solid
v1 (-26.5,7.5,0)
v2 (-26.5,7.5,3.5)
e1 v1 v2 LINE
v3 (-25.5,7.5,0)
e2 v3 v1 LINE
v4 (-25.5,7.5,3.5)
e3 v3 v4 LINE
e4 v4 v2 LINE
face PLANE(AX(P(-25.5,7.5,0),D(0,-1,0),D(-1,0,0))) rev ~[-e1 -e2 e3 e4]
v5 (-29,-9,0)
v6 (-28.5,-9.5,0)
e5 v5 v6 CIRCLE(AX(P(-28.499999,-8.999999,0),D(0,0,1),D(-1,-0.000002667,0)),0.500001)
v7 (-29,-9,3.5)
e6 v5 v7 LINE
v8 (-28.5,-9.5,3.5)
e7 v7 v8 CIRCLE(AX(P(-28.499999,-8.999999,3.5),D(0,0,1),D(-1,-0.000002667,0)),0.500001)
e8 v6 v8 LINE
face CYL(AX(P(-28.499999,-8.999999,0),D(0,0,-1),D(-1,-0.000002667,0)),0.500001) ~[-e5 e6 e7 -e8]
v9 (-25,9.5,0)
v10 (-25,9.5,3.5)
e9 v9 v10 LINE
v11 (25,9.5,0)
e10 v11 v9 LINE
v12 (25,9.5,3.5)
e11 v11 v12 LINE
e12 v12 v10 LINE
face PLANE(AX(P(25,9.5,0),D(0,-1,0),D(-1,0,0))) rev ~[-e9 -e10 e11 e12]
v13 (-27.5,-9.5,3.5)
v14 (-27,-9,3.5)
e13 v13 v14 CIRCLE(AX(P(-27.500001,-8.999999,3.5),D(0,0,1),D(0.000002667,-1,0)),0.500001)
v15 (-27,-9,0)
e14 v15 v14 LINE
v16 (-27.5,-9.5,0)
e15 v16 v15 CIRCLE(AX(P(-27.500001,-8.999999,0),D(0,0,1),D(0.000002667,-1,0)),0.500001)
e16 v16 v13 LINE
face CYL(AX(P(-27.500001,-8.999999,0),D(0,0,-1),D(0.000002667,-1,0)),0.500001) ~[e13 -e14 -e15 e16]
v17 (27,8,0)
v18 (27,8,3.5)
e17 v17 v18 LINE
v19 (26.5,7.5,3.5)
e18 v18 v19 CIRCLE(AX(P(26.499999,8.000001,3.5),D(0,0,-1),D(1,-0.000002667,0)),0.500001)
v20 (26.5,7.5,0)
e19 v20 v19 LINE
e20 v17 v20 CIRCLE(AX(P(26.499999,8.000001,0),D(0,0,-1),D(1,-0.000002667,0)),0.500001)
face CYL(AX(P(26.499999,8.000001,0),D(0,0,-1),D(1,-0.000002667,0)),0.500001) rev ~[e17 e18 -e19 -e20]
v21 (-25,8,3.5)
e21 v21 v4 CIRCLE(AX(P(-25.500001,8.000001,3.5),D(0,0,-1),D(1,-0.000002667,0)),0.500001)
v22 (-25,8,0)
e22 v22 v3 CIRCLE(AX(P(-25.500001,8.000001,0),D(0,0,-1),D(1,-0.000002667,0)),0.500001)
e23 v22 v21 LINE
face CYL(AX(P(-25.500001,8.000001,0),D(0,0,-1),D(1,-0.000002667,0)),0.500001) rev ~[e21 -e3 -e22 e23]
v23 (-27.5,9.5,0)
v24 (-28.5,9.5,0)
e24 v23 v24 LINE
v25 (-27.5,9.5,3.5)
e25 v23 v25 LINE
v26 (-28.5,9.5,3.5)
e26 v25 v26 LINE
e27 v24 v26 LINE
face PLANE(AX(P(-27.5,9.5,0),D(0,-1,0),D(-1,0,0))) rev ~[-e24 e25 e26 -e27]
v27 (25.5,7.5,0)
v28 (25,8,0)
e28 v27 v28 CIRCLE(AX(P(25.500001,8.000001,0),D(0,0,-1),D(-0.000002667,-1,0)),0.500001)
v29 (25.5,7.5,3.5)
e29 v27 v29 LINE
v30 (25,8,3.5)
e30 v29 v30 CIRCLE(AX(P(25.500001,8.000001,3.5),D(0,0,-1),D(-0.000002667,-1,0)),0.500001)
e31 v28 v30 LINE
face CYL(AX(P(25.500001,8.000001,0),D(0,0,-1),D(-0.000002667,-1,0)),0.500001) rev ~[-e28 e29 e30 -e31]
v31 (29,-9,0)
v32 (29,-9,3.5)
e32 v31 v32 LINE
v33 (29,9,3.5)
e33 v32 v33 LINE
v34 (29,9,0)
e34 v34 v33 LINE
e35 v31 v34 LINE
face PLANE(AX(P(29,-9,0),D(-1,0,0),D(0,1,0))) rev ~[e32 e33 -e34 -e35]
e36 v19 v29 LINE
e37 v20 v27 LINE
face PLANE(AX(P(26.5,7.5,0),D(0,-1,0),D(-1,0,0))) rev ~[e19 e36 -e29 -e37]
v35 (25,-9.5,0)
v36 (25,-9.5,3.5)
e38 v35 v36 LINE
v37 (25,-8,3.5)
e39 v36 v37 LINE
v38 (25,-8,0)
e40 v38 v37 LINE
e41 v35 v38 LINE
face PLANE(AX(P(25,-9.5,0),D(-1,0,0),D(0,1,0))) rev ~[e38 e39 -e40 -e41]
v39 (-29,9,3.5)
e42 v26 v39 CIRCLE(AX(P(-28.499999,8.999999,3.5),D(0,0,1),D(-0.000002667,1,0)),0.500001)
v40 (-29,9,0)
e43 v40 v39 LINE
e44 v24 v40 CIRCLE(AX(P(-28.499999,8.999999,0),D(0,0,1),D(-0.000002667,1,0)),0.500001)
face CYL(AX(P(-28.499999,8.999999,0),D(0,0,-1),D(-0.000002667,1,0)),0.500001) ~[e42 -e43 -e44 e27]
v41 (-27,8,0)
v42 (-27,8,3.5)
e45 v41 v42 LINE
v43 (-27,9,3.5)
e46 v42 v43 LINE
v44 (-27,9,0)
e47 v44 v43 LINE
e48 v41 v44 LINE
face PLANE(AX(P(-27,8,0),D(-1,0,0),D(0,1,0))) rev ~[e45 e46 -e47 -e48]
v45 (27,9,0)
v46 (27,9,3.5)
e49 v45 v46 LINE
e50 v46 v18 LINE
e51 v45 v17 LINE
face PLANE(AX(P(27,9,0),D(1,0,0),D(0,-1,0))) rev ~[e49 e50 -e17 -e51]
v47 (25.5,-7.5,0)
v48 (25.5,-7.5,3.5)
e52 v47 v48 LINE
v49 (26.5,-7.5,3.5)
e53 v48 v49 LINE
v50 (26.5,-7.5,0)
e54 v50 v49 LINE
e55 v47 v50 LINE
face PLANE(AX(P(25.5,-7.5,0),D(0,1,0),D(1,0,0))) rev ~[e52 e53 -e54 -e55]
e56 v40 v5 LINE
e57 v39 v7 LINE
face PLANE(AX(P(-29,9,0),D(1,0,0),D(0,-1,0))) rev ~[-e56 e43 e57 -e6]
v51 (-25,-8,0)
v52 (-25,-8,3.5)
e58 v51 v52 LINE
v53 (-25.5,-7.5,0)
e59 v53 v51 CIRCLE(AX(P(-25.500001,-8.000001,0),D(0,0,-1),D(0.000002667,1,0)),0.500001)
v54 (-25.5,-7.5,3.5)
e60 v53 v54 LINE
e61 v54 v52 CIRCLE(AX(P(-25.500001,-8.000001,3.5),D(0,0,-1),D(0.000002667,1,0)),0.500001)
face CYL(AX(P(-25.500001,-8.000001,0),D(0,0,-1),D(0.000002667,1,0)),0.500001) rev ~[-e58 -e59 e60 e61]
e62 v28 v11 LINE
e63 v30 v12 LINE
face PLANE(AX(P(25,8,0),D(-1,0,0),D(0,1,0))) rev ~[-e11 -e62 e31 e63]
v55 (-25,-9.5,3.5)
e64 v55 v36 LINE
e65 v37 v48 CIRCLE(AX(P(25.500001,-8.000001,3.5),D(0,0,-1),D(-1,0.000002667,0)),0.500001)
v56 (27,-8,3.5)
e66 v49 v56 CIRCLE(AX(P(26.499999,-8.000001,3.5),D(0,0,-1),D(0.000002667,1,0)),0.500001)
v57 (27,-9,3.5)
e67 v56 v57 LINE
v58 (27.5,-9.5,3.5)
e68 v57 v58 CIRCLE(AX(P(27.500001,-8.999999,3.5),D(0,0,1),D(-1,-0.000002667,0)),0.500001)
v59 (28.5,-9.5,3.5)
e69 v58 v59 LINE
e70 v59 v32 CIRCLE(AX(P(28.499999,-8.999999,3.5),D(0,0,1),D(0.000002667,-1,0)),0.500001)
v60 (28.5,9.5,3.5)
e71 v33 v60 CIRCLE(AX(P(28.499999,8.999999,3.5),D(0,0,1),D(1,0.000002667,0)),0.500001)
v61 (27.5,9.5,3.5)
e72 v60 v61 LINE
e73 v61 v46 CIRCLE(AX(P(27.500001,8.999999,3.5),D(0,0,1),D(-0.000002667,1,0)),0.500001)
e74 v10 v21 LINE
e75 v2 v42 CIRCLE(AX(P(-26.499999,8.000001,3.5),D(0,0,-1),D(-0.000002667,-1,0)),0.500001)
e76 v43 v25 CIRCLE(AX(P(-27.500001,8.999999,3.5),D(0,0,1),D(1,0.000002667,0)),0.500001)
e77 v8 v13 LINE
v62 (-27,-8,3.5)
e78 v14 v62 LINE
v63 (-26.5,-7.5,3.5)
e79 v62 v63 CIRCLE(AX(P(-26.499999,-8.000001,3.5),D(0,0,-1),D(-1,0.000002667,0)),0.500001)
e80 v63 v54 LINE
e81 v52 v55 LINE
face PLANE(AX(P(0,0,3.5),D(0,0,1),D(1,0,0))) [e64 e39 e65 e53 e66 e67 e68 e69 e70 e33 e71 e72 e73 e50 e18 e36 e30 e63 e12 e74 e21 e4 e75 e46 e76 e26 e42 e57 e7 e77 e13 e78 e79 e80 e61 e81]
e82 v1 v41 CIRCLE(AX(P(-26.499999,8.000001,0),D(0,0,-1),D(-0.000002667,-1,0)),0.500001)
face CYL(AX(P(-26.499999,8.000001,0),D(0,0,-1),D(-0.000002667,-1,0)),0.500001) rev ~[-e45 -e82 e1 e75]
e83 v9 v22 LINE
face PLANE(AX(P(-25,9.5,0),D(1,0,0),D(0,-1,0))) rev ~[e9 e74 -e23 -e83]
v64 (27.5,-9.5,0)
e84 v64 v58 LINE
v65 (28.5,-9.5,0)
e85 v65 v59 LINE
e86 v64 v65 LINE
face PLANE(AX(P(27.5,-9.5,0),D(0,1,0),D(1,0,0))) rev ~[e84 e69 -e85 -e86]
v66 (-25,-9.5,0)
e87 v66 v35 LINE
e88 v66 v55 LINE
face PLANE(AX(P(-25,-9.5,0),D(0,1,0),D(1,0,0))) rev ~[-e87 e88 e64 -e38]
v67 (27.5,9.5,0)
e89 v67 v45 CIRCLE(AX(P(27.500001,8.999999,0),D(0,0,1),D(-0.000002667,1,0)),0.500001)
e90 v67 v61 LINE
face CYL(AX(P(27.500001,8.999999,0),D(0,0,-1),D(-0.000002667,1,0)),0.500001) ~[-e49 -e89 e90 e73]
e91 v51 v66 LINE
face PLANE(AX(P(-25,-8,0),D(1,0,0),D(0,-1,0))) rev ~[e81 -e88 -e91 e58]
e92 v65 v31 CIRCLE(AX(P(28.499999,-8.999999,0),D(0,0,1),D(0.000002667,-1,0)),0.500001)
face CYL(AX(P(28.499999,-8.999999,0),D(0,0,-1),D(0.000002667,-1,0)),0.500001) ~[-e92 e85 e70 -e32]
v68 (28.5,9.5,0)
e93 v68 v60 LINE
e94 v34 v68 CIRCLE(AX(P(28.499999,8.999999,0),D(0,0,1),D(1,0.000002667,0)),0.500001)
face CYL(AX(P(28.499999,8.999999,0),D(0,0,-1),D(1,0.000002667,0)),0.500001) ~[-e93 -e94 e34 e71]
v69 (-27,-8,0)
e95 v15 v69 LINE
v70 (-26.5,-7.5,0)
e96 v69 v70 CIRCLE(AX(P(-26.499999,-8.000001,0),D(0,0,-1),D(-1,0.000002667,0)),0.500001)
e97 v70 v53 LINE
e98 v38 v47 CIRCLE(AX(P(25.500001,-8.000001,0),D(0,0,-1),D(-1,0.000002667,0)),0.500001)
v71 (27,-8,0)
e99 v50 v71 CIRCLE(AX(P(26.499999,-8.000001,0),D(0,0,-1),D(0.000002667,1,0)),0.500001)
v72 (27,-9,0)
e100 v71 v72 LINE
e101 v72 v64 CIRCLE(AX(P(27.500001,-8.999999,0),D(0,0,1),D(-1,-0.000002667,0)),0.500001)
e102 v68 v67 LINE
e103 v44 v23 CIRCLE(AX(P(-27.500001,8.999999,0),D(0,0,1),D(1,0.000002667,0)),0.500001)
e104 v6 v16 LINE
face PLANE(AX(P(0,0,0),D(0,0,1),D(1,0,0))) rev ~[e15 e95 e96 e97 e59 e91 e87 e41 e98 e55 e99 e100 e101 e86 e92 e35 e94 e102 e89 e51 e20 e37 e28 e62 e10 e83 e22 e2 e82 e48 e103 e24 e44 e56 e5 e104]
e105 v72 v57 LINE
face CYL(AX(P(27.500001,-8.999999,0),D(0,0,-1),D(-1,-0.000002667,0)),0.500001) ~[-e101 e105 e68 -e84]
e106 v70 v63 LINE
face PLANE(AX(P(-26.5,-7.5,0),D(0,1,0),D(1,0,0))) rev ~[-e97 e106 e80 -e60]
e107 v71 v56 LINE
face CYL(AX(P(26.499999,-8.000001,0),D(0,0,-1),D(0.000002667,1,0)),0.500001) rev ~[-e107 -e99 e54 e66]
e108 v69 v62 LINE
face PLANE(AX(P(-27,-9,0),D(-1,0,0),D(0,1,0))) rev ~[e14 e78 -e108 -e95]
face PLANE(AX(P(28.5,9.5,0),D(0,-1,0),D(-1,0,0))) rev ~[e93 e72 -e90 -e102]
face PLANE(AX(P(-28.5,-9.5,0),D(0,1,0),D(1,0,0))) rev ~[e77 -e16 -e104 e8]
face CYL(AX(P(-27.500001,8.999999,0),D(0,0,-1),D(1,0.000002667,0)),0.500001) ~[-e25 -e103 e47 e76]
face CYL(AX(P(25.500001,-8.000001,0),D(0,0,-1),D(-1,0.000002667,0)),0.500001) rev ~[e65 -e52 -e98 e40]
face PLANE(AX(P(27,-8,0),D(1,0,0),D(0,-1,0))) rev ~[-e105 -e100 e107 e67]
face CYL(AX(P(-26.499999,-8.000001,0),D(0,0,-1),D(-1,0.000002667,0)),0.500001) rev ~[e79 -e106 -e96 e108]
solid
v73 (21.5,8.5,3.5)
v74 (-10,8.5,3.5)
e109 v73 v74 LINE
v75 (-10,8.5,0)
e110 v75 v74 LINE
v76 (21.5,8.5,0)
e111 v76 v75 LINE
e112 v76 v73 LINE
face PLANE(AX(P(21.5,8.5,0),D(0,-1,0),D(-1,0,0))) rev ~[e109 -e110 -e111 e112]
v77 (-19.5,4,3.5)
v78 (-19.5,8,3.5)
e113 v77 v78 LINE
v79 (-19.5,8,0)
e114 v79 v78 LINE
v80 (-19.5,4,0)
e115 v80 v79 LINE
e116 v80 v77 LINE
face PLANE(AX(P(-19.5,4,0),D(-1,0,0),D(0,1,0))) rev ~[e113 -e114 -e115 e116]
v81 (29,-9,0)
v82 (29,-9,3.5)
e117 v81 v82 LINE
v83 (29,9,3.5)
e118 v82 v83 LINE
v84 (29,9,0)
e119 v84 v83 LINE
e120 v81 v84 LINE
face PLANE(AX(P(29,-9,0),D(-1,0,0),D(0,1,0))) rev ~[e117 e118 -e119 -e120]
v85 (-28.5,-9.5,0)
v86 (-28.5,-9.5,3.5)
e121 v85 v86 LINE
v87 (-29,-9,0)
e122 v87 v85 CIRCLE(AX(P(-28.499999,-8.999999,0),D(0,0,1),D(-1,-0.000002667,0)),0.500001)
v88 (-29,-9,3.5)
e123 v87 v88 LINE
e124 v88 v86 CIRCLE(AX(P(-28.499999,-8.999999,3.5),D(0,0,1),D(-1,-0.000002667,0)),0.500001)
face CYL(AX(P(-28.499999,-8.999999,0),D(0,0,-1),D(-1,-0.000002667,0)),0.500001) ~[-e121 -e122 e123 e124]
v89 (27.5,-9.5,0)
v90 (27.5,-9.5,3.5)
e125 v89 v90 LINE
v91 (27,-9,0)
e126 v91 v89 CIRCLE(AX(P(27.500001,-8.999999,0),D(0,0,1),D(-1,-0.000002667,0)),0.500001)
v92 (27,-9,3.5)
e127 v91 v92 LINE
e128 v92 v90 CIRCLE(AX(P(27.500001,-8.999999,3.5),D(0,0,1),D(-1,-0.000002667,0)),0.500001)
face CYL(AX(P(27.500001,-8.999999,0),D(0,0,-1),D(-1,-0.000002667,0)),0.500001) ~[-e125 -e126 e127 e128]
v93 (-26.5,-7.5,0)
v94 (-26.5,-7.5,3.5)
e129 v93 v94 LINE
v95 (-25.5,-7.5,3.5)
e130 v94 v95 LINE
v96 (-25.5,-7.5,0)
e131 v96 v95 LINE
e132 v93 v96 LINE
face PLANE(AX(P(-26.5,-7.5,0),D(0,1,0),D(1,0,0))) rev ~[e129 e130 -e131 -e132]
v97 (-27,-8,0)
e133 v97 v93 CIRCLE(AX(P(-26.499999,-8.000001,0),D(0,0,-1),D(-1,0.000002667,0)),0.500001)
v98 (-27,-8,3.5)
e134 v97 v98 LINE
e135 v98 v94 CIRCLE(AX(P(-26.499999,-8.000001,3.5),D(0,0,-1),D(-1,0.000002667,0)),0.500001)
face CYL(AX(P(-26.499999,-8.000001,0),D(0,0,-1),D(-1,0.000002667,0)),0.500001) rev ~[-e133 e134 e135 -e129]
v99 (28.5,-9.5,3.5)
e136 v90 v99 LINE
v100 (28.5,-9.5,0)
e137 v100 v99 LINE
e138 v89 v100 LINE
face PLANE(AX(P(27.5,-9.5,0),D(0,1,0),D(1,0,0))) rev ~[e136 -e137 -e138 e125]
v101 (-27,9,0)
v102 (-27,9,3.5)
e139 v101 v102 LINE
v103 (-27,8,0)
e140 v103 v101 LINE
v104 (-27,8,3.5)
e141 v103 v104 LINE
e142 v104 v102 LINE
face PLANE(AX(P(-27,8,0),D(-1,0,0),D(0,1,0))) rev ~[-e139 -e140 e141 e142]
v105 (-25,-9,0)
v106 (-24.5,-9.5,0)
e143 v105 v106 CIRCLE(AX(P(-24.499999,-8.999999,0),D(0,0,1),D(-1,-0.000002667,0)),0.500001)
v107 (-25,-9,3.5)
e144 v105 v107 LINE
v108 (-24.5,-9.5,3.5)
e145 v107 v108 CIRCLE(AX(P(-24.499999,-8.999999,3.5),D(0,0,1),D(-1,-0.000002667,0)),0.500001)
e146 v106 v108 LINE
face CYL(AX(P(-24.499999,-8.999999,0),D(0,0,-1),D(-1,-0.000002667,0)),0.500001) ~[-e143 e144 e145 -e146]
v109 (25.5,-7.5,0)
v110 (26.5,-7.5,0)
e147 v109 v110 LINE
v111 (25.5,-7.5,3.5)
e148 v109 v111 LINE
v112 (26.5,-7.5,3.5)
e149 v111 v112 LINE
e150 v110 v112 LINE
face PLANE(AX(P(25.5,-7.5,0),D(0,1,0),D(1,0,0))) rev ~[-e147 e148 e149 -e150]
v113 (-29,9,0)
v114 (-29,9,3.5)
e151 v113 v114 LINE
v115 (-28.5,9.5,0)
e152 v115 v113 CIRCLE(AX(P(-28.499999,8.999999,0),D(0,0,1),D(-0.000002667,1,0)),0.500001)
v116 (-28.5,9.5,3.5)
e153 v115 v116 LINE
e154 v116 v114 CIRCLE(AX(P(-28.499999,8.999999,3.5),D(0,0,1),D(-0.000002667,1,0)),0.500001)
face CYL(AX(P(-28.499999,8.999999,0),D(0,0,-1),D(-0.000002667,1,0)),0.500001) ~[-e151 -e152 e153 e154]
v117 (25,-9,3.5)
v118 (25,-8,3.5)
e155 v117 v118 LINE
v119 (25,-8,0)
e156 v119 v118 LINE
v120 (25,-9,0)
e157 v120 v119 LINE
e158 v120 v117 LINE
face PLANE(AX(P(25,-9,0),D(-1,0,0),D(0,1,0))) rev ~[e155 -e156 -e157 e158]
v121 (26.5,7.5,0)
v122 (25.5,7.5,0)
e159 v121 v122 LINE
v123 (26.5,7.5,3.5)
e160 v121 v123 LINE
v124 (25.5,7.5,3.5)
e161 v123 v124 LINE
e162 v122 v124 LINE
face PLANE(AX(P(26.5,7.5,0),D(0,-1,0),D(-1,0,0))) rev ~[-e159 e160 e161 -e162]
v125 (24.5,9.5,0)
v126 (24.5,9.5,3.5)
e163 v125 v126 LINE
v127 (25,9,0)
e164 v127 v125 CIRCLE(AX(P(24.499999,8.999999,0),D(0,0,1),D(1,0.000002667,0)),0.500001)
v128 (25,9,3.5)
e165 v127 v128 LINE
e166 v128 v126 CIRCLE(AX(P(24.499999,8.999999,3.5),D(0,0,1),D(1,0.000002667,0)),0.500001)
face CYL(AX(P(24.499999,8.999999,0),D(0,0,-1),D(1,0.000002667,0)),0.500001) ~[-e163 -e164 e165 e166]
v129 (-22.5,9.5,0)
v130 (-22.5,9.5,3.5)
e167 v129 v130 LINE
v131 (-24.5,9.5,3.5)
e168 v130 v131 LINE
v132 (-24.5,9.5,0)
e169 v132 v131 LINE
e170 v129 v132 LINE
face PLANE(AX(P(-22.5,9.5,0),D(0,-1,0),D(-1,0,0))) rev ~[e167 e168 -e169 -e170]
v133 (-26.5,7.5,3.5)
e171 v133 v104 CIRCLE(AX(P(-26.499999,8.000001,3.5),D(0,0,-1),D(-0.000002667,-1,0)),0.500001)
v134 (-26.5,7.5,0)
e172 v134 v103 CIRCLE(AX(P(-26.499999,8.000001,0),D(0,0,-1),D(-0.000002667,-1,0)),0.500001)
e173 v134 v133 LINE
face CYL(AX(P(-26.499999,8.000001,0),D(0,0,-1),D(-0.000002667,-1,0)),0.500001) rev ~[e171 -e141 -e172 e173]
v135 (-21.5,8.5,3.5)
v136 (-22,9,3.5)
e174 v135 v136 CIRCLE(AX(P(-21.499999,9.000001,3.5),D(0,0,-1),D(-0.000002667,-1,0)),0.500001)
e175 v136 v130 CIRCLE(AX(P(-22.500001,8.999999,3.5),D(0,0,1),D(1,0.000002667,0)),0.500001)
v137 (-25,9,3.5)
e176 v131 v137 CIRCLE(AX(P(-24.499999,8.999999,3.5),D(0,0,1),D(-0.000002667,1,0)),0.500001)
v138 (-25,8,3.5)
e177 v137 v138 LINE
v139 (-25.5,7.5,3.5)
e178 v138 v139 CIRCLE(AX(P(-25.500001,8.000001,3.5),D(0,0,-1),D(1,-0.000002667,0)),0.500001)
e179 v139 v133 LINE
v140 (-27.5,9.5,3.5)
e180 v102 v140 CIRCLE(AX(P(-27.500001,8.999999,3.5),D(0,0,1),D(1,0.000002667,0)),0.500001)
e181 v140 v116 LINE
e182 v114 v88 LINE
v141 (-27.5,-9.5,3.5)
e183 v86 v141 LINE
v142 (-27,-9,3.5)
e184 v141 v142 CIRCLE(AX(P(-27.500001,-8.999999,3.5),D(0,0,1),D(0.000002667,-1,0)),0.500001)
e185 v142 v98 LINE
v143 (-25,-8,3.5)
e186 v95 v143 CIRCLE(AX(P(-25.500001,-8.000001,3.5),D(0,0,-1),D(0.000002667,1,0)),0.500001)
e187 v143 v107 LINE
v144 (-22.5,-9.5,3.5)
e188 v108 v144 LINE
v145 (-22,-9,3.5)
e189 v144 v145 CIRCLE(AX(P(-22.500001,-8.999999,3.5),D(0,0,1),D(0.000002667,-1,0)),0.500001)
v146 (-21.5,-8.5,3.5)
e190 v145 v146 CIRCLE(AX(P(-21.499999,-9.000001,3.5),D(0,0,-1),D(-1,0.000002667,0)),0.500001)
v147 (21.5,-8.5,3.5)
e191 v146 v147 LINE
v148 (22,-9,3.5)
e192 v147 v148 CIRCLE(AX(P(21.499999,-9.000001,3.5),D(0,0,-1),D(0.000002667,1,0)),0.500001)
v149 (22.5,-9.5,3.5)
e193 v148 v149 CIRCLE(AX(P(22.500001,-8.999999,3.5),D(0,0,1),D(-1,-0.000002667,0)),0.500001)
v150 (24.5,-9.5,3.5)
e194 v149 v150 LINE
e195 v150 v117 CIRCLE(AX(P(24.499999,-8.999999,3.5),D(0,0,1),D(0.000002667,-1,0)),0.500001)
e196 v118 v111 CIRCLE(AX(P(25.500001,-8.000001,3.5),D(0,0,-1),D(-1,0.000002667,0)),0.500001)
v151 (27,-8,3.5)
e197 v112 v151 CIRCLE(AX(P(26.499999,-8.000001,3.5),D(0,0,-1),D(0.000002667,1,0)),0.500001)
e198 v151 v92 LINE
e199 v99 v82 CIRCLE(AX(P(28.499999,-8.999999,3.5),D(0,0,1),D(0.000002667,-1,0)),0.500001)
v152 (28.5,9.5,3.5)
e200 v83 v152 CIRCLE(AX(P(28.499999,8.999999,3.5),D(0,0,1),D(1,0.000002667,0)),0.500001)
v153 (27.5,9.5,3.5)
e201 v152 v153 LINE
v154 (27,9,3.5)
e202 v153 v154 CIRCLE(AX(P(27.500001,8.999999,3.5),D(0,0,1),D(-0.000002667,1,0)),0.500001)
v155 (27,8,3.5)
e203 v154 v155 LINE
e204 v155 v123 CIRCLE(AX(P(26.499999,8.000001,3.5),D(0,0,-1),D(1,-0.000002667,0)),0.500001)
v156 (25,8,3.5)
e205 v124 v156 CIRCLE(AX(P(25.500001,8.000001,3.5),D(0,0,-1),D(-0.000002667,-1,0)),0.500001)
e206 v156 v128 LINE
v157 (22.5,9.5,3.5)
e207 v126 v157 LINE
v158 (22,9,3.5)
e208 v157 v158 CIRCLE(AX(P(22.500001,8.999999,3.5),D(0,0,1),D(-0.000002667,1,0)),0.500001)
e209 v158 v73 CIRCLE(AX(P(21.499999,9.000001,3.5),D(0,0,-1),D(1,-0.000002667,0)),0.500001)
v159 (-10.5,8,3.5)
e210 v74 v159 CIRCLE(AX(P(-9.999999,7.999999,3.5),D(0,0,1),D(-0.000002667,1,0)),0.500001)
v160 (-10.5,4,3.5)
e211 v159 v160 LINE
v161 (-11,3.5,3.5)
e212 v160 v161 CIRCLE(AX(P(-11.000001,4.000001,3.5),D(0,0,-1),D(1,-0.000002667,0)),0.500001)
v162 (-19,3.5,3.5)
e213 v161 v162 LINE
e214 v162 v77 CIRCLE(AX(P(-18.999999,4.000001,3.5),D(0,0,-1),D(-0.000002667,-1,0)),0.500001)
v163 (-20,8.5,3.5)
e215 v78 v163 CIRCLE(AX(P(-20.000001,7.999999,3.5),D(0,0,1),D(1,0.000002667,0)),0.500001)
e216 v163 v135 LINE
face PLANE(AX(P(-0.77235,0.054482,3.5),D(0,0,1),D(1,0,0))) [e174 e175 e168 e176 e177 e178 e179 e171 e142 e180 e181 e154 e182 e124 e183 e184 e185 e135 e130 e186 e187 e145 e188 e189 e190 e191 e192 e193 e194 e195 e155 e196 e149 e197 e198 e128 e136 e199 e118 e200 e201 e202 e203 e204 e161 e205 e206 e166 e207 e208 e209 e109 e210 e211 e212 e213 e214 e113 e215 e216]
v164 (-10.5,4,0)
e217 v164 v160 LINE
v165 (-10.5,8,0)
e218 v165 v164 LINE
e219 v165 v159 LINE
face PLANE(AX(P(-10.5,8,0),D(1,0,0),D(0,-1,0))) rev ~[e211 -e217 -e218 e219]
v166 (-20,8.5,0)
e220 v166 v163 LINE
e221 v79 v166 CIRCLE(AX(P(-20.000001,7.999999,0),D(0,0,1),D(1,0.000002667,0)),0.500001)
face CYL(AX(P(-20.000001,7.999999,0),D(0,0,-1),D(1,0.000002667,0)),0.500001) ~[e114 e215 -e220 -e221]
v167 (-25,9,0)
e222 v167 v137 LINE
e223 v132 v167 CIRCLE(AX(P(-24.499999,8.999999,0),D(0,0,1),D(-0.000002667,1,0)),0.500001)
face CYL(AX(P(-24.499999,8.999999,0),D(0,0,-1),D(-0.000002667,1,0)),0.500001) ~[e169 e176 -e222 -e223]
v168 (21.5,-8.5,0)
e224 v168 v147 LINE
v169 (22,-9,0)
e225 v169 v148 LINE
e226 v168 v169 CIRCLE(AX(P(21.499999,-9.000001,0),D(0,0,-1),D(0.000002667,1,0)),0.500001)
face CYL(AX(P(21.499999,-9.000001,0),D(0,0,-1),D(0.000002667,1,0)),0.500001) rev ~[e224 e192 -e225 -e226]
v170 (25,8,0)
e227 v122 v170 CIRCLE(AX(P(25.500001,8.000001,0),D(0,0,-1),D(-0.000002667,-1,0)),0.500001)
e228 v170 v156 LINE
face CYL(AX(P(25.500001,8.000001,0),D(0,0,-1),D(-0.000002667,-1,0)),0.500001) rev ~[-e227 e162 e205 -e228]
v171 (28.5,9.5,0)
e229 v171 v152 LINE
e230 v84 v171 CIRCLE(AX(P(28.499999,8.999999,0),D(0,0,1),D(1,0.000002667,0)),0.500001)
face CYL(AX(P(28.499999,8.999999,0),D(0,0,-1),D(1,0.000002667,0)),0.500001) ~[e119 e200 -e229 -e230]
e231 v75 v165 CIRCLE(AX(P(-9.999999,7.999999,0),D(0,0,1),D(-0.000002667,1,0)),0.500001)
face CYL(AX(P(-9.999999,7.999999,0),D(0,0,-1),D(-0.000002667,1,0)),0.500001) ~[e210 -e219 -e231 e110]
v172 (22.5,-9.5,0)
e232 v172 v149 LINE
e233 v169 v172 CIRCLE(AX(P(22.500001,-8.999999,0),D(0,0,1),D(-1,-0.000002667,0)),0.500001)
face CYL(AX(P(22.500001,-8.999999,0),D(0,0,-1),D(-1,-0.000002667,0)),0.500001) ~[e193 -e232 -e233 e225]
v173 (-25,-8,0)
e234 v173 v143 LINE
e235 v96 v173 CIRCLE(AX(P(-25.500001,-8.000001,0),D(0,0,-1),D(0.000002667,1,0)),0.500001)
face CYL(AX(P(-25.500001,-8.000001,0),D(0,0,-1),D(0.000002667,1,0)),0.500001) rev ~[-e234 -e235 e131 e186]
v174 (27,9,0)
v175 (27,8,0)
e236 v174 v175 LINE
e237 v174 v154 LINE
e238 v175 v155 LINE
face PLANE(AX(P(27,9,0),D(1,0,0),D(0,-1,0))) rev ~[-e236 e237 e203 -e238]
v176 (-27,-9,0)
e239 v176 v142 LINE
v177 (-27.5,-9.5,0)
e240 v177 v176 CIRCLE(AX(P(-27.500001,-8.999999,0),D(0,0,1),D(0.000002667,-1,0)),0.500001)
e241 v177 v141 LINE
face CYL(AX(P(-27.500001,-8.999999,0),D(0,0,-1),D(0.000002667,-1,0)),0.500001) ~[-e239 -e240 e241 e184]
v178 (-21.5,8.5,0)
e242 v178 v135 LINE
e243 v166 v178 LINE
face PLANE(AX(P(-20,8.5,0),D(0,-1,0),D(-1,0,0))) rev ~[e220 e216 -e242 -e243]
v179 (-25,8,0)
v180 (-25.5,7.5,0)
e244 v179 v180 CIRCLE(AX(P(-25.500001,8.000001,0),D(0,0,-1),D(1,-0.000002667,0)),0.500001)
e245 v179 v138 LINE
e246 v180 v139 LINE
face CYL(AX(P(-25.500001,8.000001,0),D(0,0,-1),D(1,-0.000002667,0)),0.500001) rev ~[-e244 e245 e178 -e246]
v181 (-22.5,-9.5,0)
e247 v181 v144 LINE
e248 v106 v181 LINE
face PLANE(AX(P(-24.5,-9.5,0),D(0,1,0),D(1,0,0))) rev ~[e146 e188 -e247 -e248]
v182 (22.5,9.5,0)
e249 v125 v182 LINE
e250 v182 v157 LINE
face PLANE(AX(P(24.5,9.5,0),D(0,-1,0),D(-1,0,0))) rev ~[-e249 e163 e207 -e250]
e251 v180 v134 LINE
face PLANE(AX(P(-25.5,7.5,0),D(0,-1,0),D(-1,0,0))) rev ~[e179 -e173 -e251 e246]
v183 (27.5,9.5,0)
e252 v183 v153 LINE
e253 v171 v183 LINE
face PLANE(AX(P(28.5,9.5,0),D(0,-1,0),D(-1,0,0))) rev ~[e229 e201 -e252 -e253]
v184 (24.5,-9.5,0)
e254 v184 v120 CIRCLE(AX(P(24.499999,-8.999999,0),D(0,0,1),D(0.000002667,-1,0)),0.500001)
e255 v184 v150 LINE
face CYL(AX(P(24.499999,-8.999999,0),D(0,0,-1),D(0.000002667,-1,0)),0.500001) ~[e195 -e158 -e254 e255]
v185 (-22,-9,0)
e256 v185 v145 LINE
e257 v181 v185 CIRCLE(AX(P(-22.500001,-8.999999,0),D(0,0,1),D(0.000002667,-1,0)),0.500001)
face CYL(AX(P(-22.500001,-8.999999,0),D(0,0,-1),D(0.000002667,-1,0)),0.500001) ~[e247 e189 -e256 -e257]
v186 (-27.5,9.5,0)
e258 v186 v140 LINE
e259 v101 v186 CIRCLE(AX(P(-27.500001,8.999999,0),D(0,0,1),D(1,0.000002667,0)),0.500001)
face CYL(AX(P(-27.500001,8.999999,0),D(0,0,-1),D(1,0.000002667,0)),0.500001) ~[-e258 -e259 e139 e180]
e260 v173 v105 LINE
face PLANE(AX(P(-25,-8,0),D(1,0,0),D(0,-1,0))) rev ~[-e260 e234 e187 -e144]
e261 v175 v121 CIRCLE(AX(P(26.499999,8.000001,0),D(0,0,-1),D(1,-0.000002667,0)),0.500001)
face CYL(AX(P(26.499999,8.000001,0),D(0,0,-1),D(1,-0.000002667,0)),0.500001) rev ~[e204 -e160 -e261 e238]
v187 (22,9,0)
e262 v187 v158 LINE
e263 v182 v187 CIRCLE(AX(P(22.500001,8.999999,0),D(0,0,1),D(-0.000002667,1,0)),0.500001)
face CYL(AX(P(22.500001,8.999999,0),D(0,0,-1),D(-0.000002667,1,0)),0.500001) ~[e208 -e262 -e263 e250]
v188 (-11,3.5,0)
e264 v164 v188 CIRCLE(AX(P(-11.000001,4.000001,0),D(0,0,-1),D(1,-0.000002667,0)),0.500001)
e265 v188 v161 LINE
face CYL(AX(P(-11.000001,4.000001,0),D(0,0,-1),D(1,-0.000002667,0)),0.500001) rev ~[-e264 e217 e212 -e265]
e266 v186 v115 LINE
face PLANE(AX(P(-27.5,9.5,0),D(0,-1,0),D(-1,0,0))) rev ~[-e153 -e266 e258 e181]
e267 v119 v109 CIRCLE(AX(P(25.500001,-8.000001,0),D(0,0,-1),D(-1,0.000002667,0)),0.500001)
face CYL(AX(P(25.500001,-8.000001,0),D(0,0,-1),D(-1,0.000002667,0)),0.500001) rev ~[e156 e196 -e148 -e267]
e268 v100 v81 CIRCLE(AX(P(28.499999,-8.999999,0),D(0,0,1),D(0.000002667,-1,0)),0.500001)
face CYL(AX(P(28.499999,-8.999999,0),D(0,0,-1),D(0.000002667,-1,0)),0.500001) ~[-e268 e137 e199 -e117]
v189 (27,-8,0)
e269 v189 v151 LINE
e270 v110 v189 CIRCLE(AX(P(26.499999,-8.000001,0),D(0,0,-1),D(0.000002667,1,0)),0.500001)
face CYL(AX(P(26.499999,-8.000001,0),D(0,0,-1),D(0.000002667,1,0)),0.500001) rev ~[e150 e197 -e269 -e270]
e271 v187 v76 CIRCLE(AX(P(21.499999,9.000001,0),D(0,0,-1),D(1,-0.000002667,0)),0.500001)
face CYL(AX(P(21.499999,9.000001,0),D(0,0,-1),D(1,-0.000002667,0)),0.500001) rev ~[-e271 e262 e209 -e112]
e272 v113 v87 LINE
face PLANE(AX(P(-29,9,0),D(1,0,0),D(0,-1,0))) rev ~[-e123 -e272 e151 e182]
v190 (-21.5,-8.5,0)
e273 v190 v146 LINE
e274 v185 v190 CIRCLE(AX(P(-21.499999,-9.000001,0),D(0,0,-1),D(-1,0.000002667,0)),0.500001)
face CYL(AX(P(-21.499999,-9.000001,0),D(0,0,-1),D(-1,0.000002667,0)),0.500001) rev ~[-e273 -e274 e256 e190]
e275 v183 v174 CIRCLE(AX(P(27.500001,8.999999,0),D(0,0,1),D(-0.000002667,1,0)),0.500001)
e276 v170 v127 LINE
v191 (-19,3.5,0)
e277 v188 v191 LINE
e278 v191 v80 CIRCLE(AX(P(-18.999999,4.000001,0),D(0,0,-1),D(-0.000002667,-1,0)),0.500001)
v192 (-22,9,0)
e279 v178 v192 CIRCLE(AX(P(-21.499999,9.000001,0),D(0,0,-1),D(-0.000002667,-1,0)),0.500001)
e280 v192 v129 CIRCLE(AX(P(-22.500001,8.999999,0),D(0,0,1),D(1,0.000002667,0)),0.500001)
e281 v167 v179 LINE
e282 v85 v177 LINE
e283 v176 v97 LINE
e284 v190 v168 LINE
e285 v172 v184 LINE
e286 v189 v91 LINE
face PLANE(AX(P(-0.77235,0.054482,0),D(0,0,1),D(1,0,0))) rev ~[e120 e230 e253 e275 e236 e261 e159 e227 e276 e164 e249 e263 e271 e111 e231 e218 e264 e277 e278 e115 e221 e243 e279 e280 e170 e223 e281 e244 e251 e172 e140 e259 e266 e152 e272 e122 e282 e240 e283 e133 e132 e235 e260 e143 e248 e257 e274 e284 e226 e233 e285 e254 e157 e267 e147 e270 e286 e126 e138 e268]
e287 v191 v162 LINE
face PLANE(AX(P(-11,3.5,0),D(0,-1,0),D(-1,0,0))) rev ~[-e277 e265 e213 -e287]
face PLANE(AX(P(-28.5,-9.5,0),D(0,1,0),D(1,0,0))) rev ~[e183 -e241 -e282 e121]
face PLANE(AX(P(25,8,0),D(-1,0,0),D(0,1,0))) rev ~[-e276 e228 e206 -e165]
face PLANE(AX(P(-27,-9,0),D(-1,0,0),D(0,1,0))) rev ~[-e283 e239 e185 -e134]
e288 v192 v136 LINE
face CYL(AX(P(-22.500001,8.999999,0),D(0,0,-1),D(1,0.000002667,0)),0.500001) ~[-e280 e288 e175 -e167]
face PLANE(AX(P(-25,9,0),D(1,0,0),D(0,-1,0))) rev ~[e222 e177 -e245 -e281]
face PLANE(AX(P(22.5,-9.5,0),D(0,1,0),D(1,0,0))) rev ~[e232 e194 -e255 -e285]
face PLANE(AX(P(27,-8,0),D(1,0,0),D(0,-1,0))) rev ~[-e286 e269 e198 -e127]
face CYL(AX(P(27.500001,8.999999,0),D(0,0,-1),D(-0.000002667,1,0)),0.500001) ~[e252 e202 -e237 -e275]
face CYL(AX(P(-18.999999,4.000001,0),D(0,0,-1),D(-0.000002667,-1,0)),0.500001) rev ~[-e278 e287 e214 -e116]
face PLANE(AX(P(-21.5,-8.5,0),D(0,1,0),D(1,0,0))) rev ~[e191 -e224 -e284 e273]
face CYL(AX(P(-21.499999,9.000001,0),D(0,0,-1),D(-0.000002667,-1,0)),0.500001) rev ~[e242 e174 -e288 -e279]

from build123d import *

# Parameters (mm, degrees)
F2_DEPTH = 3.5
F3_DEPTH = 3.5


with BuildPart() as f2:
    # F1 (on Top) → F2 (new body)
    with BuildSketch(Plane.XY):
        with BuildLine():
            Line((-22.5, 9.5), (-24.5, 9.5))
            ThreePointArc((-24.5, 9.5), (-24.853553, 9.353553), (-25, 9))
            Line((-25, 9), (-25, 8))
            ThreePointArc((-25, 8), (-25.146447, 7.646447), (-25.5, 7.5))
            Line((-25.5, 7.5), (-26.5, 7.5))
            ThreePointArc((-26.5, 7.5), (-26.853553, 7.646447), (-27, 8))
            Line((-27, 8), (-27, 9))
            ThreePointArc((-27, 9), (-27.146447, 9.353553), (-27.5, 9.5))
            Line((-27.5, 9.5), (-28.5, 9.5))
            ThreePointArc((-28.5, 9.5), (-28.853553, 9.353553), (-29, 9))
            Line((-29, 9), (-29, 0))
            Line((-29, 0), (-29, -9))
            ThreePointArc((-29, -9), (-28.853553, -9.353553), (-28.5, -9.5))
            Line((-28.5, -9.5), (-27.5, -9.5))
            ThreePointArc((-27.5, -9.5), (-27.146447, -9.353553), (-27, -9))
            Line((-27, -9), (-27, -8))
            ThreePointArc((-27, -8), (-26.853553, -7.646447), (-26.5, -7.5))
            Line((-26.5, -7.5), (-25.5, -7.5))
            ThreePointArc((-25.5, -7.5), (-25.146447, -7.646447), (-25, -8))
            Line((-25, -8), (-25, -9))
            ThreePointArc((-25, -9), (-24.853553, -9.353553), (-24.5, -9.5))
            Line((-24.5, -9.5), (-22.5, -9.5))
            ThreePointArc((-22.5, -9.5), (-22.146447, -9.353553), (-22, -9))
            ThreePointArc((-22, -9), (-21.853553, -8.646447), (-21.5, -8.5))
            Line((-21.5, -8.5), (0, -8.5))
            Line((0, -8.5), (21.5, -8.5))
            ThreePointArc((21.5, -8.5), (21.853553, -8.646447), (22, -9))
            ThreePointArc((22, -9), (22.146447, -9.353553), (22.5, -9.5))
            Line((22.5, -9.5), (24.5, -9.5))
            ThreePointArc((24.5, -9.5), (24.853553, -9.353553), (25, -9))
            Line((25, -9), (25, -8))
            ThreePointArc((25, -8), (25.146447, -7.646447), (25.5, -7.5))
            Line((25.5, -7.5), (26.5, -7.5))
            ThreePointArc((26.5, -7.5), (26.853553, -7.646447), (27, -8))
            Line((27, -8), (27, -9))
            ThreePointArc((27, -9), (27.146447, -9.353553), (27.5, -9.5))
            Line((27.5, -9.5), (28.5, -9.5))
            ThreePointArc((28.5, -9.5), (28.853553, -9.353553), (29, -9))
            Line((29, -9), (29, 0))
            Line((29, 0), (29, 9))
            ThreePointArc((29, 9), (28.853553, 9.353553), (28.5, 9.5))
            Line((28.5, 9.5), (27.5, 9.5))
            ThreePointArc((27.5, 9.5), (27.146447, 9.353553), (27, 9))
            Line((27, 9), (27, 8))
            ThreePointArc((27, 8), (26.853553, 7.646447), (26.5, 7.5))
            Line((26.5, 7.5), (25.5, 7.5))
            ThreePointArc((25.5, 7.5), (25.146447, 7.646447), (25, 8))
            Line((25, 8), (25, 9))
            ThreePointArc((25, 9), (24.853553, 9.353553), (24.5, 9.5))
            Line((24.5, 9.5), (22.5, 9.5))
            ThreePointArc((22.5, 9.5), (22.146447, 9.353553), (22, 9))
            ThreePointArc((22, 9), (21.853553, 8.646447), (21.5, 8.5))
            Line((21.5, 8.5), (0, 8.5))
            Line((0, 8.5), (-10, 8.5))
            ThreePointArc((-10, 8.5), (-10.353553, 8.353553), (-10.5, 8))
            Line((-10.5, 8), (-10.5, 4))
            ThreePointArc((-10.5, 4), (-10.646447, 3.646447), (-11, 3.5))
            Line((-11, 3.5), (-19, 3.5))
            ThreePointArc((-19, 3.5), (-19.353553, 3.646447), (-19.5, 4))
            Line((-19.5, 4), (-19.5, 8))
            ThreePointArc((-19.5, 8), (-19.646447, 8.353553), (-20, 8.5))
            Line((-20, 8.5), (-21.5, 8.5))
            ThreePointArc((-21.5, 8.5), (-21.853553, 8.646447), (-22, 9))
            ThreePointArc((-22, 9), (-22.146447, 9.353553), (-22.5, 9.5))
        make_face()
    extrude(amount=F2_DEPTH)


with BuildPart() as f3:
    # F0 (on Top) → F3 (new body)
    with BuildSketch(Plane.XY):
        with BuildLine():
            Line((-27.5, 9.5), (-28.5, 9.5))
            ThreePointArc((-28.5, 9.5), (-28.853553, 9.353553), (-29, 9))
            Line((-29, 9), (-29, 0))
            Line((-29, 0), (-29, -9))
            ThreePointArc((-29, -9), (-28.853553, -9.353553), (-28.5, -9.5))
            Line((-28.5, -9.5), (-27.5, -9.5))
            ThreePointArc((-27.5, -9.5), (-27.146447, -9.353553), (-27, -9))
            Line((-27, -9), (-27, -8))
            ThreePointArc((-27, -8), (-26.853553, -7.646447), (-26.5, -7.5))
            Line((-26.5, -7.5), (-25.5, -7.5))
            ThreePointArc((-25.5, -7.5), (-25.146447, -7.646447), (-25, -8))
            Line((-25, -8), (-25, -9.5))
            Line((-25, -9.5), (0, -9.5))
            Line((0, -9.5), (25, -9.5))
            Line((25, -9.5), (25, -8))
            ThreePointArc((25, -8), (25.146447, -7.646447), (25.5, -7.5))
            Line((25.5, -7.5), (26.5, -7.5))
            ThreePointArc((26.5, -7.5), (26.853553, -7.646447), (27, -8))
            Line((27, -8), (27, -9))
            ThreePointArc((27, -9), (27.146447, -9.353553), (27.5, -9.5))
            Line((27.5, -9.5), (28.5, -9.5))
            ThreePointArc((28.5, -9.5), (28.853553, -9.353553), (29, -9))
            Line((29, -9), (29, 0))
            Line((29, 0), (29, 9))
            ThreePointArc((29, 9), (28.853553, 9.353553), (28.5, 9.5))
            Line((28.5, 9.5), (27.5, 9.5))
            ThreePointArc((27.5, 9.5), (27.146447, 9.353553), (27, 9))
            Line((27, 9), (27, 8))
            ThreePointArc((27, 8), (26.853553, 7.646447), (26.5, 7.5))
            Line((26.5, 7.5), (25.5, 7.5))
            ThreePointArc((25.5, 7.5), (25.146447, 7.646447), (25, 8))
            Line((25, 8), (25, 9.5))
            Line((25, 9.5), (0, 9.5))
            Line((0, 9.5), (-25, 9.5))
            Line((-25, 9.5), (-25, 8))
            ThreePointArc((-25, 8), (-25.146447, 7.646447), (-25.5, 7.5))
            Line((-25.5, 7.5), (-26.5, 7.5))
            ThreePointArc((-26.5, 7.5), (-26.853553, 7.646447), (-27, 8))
            Line((-27, 8), (-27, 9))
            ThreePointArc((-27, 9), (-27.146447, 9.353553), (-27.5, 9.5))
        make_face()
    extrude(amount=F3_DEPTH)


solid = Compound([f2.part, f3.part])
